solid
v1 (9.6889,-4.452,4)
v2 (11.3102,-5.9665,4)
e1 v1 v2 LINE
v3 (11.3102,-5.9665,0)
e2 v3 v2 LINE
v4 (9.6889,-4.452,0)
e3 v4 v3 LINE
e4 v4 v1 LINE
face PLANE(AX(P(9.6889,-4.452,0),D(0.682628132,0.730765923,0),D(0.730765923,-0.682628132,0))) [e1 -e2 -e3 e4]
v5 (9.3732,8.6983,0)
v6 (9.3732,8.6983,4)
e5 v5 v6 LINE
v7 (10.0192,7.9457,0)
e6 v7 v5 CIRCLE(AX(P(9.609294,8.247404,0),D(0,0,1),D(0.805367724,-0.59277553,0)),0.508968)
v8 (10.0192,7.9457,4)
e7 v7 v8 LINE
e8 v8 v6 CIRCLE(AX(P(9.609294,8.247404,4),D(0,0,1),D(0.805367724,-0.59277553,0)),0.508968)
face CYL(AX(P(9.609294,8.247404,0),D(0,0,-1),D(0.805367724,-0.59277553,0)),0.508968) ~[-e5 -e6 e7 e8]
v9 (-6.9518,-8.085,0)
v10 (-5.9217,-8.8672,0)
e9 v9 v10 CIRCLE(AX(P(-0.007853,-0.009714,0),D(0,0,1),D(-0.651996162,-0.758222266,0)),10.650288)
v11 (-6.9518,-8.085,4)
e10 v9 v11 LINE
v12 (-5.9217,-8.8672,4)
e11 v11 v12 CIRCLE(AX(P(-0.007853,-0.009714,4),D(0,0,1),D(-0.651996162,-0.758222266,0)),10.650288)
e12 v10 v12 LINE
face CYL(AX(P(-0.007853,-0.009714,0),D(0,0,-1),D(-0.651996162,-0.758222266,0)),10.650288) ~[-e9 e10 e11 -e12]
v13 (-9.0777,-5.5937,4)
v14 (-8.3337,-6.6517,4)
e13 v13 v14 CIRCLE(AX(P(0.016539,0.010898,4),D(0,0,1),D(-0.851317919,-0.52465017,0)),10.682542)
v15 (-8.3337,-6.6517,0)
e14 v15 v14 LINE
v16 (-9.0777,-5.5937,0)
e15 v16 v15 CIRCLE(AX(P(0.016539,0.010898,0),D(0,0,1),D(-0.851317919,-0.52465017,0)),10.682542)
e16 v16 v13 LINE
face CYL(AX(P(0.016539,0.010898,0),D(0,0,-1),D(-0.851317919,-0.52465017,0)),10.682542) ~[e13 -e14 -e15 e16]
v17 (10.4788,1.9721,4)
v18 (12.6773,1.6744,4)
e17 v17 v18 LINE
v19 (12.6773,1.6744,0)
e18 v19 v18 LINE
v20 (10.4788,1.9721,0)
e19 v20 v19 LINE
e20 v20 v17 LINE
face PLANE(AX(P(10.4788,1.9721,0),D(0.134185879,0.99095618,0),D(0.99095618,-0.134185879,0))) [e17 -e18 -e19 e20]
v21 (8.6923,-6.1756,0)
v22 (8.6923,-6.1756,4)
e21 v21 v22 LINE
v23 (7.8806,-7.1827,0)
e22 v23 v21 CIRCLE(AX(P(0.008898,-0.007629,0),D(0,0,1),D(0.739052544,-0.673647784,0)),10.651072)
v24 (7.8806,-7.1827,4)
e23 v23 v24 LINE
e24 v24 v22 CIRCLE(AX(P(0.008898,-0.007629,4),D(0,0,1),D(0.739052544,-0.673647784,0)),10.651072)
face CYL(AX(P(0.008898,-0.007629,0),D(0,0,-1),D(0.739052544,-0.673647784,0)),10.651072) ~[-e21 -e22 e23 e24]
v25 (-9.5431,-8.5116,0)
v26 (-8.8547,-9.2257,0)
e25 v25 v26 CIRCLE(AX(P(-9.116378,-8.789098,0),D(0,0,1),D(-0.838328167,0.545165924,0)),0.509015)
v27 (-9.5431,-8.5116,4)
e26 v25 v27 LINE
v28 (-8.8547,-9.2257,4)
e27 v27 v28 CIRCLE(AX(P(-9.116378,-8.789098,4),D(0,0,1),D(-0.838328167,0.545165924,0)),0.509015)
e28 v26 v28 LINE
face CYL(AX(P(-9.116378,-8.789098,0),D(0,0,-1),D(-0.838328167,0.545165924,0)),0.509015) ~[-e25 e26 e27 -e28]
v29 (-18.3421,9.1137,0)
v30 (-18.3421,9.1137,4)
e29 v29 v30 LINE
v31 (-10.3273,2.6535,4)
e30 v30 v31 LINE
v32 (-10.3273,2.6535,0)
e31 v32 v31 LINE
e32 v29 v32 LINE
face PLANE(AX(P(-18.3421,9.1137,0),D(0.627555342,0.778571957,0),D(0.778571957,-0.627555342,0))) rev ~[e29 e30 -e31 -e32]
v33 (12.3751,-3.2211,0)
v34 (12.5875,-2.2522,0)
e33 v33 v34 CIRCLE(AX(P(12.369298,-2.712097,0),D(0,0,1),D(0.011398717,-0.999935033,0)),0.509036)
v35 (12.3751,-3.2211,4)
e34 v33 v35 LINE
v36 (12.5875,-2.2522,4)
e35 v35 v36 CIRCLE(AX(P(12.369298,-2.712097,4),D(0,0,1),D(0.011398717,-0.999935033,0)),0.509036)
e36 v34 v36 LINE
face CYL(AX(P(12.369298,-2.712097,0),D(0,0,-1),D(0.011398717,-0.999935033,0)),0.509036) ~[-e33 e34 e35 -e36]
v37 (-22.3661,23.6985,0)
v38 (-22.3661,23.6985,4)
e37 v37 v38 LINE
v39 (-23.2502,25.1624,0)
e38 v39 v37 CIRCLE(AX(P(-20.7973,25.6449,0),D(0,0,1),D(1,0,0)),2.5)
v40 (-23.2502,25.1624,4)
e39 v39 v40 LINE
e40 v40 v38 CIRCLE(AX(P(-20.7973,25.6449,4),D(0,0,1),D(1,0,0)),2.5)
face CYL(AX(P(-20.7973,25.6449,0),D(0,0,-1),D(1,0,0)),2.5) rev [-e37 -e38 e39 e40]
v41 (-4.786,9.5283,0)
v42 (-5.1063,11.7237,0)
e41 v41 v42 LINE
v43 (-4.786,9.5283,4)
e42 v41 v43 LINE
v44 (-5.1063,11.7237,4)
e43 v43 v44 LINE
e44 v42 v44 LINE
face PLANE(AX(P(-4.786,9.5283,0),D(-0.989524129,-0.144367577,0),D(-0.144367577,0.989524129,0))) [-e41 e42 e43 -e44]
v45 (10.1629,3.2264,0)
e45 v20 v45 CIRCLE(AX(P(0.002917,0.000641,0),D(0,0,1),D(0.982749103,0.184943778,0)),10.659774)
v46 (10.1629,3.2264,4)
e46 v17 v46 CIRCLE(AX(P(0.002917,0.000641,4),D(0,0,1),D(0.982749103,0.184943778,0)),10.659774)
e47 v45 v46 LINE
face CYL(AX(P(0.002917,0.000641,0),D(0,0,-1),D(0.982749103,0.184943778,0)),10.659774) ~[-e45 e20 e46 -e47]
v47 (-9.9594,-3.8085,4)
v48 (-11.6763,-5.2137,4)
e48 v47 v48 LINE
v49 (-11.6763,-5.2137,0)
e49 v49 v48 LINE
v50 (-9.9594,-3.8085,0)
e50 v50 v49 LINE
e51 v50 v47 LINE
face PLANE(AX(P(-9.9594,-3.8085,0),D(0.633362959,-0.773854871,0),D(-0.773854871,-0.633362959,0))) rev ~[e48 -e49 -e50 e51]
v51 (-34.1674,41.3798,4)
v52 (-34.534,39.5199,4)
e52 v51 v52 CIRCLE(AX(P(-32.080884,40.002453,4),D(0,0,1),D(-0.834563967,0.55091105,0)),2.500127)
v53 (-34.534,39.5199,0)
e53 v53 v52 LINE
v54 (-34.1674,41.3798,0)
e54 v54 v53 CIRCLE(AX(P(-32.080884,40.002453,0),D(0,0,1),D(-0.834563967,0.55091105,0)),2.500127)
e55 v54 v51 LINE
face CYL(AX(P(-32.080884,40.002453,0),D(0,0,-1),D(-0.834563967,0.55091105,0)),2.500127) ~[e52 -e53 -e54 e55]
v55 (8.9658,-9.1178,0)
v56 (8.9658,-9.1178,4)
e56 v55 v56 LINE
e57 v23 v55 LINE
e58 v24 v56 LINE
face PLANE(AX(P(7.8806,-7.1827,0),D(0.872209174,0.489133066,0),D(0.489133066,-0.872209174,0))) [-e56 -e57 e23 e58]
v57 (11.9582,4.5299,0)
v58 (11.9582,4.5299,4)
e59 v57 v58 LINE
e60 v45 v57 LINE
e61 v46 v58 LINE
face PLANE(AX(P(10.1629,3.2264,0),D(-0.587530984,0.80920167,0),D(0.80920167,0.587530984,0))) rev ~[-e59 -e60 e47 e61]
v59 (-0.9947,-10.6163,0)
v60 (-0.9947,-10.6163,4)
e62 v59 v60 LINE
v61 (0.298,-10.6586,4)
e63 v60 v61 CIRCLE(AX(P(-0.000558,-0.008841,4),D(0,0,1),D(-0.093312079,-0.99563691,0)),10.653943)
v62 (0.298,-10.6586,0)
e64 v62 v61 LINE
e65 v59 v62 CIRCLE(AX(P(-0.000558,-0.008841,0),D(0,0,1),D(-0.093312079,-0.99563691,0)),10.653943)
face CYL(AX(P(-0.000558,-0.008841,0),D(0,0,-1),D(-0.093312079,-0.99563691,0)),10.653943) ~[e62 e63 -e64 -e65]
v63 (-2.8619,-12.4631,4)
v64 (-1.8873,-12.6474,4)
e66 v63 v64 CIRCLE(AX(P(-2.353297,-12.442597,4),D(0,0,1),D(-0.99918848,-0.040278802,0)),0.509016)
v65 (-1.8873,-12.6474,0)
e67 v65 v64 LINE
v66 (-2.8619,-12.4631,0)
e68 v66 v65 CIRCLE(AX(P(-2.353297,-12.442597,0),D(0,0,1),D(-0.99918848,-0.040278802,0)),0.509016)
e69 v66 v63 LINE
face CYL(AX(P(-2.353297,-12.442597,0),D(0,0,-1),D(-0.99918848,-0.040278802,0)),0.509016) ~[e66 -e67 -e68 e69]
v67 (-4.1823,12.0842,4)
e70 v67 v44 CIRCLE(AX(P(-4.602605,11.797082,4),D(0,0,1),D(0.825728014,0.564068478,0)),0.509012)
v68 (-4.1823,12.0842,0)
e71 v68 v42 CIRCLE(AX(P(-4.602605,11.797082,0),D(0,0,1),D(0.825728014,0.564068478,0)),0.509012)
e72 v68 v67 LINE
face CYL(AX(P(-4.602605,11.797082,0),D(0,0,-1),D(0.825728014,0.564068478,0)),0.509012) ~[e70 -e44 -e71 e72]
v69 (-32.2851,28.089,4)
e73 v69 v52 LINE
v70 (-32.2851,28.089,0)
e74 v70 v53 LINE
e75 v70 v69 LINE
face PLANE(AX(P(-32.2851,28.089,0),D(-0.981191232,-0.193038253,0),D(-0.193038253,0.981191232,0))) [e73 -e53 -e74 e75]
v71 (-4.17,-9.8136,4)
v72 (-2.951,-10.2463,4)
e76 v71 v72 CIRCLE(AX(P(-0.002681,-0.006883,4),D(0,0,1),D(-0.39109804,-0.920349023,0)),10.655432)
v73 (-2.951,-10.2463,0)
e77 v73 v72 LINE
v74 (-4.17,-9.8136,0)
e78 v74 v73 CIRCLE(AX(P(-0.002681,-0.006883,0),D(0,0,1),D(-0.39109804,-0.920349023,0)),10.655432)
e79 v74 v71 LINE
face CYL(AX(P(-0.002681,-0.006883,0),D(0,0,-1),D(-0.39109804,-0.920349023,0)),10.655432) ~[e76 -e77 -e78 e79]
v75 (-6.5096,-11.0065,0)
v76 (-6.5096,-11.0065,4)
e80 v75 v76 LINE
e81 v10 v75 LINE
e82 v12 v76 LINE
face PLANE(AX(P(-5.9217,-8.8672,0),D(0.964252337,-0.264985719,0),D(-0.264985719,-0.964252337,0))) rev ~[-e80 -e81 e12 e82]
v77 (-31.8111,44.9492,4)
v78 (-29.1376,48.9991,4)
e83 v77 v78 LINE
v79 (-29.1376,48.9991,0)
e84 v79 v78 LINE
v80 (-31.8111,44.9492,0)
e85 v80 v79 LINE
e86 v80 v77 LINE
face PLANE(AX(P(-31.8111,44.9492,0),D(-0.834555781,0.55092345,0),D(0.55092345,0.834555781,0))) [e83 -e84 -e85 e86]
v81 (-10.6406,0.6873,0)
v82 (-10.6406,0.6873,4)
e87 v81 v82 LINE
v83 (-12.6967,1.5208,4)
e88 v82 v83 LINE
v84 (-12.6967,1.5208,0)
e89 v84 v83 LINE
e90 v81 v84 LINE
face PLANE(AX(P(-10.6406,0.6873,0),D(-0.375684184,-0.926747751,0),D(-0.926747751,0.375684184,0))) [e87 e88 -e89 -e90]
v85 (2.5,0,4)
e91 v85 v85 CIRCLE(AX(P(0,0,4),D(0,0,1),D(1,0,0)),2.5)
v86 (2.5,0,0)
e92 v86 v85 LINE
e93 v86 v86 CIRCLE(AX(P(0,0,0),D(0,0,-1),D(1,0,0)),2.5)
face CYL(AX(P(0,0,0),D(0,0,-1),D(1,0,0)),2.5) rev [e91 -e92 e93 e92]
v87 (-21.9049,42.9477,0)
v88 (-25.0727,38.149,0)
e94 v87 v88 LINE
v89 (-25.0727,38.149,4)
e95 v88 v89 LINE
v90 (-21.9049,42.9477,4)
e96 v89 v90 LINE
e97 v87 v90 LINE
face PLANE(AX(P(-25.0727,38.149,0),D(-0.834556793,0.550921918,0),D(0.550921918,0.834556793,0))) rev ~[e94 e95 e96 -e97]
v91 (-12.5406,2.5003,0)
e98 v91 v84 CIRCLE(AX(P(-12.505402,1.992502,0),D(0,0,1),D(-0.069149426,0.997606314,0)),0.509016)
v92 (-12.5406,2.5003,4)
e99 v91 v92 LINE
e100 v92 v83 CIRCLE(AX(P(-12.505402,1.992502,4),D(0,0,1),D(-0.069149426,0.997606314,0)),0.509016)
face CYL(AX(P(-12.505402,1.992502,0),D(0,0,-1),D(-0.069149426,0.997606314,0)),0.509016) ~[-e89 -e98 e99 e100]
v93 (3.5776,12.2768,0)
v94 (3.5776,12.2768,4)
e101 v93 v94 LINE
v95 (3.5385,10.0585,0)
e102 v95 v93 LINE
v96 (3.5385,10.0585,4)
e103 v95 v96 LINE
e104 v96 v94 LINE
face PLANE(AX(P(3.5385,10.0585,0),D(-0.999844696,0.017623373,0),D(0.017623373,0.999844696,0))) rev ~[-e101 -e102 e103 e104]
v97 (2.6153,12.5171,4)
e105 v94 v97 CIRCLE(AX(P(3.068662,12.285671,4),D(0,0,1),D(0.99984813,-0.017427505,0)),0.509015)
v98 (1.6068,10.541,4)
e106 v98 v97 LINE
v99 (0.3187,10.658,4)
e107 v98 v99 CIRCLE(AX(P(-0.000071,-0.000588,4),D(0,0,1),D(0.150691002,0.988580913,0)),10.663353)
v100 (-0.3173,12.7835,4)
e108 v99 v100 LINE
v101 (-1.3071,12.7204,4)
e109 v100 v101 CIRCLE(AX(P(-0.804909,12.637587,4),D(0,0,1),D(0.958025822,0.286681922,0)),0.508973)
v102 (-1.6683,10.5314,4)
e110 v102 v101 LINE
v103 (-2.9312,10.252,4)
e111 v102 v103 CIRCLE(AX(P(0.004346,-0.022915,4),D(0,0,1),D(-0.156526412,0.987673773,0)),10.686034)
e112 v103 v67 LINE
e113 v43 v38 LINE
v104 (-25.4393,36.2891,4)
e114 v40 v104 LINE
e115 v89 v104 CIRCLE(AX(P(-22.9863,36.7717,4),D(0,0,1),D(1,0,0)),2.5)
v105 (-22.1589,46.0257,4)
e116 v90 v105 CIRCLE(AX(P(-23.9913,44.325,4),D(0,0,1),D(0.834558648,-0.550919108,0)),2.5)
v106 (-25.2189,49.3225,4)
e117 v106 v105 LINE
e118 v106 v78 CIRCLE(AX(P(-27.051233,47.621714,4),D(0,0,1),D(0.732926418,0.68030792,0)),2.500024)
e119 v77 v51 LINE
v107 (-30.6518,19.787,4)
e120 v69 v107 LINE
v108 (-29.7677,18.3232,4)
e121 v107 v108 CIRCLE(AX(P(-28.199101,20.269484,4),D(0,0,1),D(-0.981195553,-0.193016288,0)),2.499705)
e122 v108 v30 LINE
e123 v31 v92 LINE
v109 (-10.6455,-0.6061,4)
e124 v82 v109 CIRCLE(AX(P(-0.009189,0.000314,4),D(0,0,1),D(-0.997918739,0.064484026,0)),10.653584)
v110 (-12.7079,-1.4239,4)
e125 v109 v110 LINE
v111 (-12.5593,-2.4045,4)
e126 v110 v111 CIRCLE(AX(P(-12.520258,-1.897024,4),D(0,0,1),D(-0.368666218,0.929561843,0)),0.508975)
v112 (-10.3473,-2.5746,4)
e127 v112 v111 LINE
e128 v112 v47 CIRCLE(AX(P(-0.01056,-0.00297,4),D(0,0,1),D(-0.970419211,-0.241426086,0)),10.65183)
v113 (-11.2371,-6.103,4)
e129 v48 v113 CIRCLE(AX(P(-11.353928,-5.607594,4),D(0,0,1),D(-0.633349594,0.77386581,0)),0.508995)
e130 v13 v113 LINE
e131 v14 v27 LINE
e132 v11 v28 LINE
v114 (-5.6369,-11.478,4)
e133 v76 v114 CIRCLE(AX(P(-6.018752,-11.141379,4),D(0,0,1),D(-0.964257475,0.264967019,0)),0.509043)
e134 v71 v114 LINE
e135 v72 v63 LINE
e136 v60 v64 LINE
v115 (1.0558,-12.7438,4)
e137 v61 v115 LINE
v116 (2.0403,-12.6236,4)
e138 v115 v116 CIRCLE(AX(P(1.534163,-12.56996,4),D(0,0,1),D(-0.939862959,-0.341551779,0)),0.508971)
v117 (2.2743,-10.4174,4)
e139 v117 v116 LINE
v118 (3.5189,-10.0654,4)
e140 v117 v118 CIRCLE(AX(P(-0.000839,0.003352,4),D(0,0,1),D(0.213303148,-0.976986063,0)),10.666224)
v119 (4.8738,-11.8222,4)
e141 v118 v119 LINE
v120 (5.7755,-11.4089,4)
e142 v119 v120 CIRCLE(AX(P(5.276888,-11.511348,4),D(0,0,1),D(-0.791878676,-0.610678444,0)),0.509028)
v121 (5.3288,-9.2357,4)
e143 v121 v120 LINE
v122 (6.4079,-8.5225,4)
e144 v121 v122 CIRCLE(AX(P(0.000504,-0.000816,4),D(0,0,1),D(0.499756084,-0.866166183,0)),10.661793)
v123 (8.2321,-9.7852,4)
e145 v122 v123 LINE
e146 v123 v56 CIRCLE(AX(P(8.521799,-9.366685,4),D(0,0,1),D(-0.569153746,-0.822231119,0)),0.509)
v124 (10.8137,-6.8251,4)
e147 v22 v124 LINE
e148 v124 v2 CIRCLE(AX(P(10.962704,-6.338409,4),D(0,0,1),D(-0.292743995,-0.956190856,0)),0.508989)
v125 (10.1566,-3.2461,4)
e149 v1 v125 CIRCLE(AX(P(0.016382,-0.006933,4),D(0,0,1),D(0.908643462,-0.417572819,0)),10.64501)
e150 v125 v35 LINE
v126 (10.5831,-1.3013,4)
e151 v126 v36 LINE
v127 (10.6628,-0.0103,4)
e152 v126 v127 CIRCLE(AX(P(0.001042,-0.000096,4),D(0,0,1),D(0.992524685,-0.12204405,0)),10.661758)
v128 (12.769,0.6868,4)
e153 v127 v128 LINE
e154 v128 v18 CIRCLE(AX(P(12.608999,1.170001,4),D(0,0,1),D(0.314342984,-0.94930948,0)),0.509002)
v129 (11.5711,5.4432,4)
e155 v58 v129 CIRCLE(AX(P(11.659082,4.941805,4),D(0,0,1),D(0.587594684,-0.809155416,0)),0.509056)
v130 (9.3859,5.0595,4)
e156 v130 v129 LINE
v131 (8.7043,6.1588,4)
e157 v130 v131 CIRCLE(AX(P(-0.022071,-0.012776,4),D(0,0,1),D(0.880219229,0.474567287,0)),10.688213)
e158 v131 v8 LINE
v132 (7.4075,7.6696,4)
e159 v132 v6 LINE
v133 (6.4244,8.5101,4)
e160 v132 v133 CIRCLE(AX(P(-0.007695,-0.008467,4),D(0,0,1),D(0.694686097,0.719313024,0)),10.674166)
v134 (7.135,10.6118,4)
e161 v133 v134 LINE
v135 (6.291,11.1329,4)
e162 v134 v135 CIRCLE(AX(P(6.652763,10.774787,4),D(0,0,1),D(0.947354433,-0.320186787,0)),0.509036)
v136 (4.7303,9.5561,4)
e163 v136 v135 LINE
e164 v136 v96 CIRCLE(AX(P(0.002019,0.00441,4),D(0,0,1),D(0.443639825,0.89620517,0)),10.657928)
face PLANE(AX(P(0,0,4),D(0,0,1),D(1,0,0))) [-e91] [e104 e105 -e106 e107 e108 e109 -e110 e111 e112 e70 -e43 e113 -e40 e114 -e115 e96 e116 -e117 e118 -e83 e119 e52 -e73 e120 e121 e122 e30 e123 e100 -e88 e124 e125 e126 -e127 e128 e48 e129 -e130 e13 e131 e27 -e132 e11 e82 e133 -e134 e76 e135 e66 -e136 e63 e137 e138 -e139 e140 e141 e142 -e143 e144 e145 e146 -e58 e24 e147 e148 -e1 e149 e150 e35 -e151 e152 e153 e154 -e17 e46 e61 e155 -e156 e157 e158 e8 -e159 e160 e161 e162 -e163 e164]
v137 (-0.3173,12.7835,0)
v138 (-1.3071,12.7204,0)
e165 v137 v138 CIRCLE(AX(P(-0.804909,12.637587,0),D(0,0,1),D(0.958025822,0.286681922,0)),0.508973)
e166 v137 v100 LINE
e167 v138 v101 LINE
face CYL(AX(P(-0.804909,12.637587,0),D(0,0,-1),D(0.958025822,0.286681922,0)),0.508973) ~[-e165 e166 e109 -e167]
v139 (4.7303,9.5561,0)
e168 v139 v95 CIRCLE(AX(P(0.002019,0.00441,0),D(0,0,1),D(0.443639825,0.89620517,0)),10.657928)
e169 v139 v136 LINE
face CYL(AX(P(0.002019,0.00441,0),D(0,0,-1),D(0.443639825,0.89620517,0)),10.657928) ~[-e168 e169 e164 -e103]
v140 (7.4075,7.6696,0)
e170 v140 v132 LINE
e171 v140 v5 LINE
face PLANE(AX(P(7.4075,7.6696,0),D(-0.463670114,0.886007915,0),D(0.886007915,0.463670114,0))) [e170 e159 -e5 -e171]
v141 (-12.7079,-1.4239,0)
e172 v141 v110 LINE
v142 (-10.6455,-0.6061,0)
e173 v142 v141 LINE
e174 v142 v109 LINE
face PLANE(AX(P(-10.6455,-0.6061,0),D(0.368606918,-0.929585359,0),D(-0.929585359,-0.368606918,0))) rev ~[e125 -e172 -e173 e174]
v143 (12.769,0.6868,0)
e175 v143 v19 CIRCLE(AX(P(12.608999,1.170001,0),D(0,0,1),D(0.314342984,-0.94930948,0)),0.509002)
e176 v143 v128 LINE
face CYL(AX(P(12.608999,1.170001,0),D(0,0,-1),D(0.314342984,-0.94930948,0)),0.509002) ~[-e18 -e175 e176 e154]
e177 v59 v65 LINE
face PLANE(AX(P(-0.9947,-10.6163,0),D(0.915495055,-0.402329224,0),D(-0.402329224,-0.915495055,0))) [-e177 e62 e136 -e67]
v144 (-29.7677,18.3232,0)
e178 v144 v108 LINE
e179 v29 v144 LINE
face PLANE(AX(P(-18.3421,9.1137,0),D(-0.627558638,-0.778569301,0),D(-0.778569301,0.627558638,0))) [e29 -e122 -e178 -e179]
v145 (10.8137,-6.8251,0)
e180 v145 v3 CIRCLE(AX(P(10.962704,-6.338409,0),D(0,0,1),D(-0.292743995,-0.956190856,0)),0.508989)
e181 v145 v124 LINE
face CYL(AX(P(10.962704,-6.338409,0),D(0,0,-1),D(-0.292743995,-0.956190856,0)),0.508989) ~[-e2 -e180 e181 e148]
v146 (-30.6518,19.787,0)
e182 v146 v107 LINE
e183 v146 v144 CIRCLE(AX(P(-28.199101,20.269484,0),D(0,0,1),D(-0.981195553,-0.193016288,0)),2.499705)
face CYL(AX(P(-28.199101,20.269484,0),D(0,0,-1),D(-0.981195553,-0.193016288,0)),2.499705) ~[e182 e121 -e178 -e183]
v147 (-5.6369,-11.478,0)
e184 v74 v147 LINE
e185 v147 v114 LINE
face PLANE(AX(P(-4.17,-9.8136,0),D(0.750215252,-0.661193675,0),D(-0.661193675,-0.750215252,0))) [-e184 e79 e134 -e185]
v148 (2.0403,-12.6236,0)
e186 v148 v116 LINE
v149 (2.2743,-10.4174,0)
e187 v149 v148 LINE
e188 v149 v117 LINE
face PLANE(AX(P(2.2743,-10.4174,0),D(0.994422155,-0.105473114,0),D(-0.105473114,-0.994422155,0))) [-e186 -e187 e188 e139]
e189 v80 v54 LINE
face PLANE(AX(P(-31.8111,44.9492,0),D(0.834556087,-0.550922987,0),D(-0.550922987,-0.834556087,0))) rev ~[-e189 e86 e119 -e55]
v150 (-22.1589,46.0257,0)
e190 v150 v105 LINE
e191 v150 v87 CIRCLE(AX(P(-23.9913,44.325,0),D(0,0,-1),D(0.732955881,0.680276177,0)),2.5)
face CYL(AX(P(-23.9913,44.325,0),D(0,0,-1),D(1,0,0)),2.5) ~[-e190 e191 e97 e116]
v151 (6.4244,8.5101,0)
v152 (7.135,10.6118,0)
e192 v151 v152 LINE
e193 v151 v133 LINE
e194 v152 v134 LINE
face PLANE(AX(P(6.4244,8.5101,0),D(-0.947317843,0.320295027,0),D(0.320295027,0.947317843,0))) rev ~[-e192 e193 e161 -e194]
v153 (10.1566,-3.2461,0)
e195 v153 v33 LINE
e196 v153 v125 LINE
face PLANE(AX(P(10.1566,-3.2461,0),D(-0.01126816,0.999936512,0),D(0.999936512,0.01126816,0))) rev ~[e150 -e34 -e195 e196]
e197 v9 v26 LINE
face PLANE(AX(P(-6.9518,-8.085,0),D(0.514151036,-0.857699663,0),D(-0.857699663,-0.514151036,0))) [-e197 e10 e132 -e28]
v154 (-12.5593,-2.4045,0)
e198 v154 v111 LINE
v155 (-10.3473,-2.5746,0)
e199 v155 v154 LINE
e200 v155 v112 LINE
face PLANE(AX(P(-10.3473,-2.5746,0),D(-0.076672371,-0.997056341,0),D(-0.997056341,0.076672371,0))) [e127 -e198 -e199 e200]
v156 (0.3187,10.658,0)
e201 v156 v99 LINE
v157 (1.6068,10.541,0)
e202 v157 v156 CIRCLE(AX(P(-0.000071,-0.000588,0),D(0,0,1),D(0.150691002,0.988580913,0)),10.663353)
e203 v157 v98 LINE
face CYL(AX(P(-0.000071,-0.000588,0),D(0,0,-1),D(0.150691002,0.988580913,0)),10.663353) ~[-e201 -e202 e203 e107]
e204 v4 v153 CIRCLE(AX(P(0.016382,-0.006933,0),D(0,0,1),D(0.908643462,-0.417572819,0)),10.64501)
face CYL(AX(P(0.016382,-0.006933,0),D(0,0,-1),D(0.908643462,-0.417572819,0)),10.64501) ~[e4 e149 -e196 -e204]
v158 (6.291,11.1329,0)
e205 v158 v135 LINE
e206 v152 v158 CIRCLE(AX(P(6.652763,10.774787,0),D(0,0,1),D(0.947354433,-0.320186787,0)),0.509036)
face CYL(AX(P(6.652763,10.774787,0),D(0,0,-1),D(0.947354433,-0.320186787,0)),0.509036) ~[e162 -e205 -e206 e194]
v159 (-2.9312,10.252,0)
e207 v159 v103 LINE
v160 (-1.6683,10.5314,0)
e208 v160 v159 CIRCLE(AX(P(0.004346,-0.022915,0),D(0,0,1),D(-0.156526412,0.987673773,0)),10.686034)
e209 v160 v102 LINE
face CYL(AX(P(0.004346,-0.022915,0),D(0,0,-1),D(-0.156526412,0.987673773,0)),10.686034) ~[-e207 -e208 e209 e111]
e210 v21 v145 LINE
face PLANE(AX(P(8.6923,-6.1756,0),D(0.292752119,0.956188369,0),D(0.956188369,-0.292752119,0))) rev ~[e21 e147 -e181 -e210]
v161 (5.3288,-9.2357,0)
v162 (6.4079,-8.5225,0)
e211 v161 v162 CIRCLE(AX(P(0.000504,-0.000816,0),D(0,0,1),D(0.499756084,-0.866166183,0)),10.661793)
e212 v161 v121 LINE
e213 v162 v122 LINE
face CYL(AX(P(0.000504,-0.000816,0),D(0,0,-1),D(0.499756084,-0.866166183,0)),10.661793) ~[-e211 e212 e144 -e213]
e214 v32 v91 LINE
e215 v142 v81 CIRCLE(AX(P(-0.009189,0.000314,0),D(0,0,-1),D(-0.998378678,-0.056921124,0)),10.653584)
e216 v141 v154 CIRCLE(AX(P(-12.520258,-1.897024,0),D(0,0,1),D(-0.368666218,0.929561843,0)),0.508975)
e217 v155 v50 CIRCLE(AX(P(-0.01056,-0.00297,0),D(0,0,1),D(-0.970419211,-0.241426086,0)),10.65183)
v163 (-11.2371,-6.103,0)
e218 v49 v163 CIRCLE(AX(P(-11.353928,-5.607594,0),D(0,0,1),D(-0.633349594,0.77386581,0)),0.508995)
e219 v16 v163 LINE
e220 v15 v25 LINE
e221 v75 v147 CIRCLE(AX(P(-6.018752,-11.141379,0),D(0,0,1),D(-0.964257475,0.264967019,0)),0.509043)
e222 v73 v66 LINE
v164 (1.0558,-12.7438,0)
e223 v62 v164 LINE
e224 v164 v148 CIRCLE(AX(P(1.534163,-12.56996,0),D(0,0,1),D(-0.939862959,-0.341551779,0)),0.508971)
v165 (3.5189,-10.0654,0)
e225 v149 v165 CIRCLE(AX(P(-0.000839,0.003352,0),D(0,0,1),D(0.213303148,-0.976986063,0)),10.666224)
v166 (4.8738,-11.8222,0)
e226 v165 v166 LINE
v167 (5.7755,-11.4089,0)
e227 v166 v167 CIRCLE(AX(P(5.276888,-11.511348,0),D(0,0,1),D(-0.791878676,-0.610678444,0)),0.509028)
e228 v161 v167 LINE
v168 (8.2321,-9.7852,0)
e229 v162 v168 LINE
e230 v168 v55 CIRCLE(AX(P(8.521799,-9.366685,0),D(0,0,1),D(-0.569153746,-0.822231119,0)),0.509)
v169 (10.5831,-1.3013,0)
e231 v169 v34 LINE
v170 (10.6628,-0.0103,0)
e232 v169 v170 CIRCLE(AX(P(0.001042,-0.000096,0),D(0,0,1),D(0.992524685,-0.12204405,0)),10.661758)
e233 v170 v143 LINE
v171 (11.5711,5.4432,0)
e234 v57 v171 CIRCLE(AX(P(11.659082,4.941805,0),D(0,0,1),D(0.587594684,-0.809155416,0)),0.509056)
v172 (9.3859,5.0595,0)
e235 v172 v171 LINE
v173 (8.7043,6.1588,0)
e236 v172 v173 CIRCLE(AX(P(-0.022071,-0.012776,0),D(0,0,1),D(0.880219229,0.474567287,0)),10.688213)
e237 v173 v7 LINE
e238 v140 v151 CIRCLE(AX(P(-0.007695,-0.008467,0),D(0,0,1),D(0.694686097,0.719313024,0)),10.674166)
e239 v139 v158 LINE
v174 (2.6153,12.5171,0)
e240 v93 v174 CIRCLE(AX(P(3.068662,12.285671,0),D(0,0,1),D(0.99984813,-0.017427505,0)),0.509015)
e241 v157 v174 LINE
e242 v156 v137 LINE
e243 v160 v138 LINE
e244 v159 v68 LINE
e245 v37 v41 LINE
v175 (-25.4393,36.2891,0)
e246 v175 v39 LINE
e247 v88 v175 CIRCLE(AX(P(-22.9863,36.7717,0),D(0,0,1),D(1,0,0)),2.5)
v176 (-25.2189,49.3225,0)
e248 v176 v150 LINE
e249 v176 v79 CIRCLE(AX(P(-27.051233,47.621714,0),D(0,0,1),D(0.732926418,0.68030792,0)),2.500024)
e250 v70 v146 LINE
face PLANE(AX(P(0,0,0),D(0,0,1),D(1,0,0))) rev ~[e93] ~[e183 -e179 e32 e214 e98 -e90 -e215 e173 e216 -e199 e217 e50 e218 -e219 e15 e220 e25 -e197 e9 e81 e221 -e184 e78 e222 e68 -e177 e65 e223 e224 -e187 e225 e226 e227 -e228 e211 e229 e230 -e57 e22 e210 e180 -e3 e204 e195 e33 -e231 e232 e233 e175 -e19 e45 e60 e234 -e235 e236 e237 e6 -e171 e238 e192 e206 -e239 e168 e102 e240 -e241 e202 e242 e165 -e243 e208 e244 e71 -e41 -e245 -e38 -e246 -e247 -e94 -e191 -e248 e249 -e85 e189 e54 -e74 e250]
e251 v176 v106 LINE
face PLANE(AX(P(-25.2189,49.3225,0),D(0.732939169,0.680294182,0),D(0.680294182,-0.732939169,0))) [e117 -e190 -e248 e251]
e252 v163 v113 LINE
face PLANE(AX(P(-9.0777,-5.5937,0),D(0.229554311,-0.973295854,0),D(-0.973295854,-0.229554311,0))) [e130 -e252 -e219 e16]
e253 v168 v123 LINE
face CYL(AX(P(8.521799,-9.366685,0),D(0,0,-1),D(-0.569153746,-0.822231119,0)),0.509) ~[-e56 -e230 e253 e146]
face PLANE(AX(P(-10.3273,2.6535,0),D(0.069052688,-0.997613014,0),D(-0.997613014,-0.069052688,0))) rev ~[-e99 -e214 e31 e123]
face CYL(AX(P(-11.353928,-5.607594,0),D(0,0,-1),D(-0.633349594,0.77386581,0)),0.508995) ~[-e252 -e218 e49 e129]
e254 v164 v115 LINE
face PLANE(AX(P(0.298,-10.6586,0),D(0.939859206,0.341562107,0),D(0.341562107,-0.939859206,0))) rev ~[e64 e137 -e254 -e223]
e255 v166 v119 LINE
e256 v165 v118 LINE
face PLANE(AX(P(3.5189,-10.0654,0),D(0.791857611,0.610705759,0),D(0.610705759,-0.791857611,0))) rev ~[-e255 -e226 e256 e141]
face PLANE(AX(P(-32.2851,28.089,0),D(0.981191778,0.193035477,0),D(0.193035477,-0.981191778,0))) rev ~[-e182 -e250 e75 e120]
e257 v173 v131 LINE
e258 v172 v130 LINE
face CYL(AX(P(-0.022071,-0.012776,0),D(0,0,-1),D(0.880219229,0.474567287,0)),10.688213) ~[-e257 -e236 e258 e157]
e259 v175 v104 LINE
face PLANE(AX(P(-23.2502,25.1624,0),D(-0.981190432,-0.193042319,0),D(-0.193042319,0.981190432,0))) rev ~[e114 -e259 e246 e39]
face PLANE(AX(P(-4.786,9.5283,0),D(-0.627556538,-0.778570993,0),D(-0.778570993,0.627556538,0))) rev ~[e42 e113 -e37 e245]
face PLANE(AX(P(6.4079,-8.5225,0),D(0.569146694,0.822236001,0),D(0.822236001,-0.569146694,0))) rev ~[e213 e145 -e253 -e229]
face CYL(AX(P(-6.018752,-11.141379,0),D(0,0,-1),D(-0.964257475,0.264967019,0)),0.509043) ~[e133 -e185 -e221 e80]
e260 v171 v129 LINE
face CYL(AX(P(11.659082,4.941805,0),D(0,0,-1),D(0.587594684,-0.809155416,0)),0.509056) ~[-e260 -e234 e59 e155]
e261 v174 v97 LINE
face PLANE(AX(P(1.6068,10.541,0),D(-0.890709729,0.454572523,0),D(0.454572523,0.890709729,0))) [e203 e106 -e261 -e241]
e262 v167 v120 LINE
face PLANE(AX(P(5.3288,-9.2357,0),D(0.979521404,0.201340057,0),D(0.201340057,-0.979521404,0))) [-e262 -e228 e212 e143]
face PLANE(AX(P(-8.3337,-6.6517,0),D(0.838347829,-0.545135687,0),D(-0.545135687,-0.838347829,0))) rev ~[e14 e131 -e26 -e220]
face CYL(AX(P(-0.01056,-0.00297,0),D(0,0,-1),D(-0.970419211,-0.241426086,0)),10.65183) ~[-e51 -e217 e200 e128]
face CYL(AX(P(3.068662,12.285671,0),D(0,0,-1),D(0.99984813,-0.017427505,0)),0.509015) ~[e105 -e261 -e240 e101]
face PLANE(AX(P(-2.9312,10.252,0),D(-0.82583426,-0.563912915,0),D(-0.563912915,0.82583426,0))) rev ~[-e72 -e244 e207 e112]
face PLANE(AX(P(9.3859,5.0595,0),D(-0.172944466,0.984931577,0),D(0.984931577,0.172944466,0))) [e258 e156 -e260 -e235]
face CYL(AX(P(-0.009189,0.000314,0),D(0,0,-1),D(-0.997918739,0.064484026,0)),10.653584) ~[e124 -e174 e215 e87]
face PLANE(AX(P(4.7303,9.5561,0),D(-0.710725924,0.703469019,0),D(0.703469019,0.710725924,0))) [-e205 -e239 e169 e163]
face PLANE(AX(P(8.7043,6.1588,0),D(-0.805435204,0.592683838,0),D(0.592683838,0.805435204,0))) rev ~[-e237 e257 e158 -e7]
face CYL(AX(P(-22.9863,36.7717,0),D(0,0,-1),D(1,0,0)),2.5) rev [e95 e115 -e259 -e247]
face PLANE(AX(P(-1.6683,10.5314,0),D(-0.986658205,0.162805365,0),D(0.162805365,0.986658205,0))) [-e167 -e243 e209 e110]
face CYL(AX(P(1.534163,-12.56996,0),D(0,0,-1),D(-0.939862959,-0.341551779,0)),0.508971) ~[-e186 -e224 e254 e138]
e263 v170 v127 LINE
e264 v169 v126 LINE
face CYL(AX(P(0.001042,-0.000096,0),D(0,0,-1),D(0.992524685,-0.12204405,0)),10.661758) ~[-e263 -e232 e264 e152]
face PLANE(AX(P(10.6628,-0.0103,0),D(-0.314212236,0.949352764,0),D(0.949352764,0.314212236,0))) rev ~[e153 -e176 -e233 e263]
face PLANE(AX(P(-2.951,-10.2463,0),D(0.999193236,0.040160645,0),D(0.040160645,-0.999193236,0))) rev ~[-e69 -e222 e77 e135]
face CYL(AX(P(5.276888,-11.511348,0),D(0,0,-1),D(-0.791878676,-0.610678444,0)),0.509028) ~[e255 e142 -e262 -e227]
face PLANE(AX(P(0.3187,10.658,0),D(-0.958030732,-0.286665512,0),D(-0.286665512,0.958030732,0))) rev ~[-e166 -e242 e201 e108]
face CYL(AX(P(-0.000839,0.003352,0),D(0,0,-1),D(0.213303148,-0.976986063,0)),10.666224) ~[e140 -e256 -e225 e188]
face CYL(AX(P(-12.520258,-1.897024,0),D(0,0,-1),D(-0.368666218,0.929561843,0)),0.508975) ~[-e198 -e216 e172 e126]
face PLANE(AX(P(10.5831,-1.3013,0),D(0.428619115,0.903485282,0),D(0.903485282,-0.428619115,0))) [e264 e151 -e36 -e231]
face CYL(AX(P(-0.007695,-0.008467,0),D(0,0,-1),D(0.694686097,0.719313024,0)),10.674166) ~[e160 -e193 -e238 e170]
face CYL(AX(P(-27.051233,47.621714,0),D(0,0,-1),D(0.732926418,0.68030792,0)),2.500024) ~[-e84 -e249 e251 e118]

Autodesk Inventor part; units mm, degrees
ref_plane "YZ Plane" through (0, 0, 0) normal (1, 0, 0) x (0, 1, 0)
ref_plane "XZ Plane" through (0, 0, 0) normal (0, 1, 0) x (-1, 0, 0)
ref_plane "XY Plane" through (0, 0, 0) normal (0, 0, 1) x (1, 0, 0)
sketch "Sketch1" plane through (0, 0, 0) normal (0, 0, 1) x (1, 0, 0)
  circle A0 centre (0, 0) radius 2.5
  line L0 (0, 0) -> (-15.5714, 12.5511)
  line L1 (0, 0) -> (20, 0) construction
  line L2 (-15.5714, 12.5511) -> (-18.3421, 9.1137)
  line L3 (0, 0) -> (-10.3273, 2.6535)
  line L4 (0, 0) -> (22.7557, 0) construction
  line L5 (0, 0) -> (-10.6628, 0)
  line L6 (-4.786, 9.5283) -> (-22.3661, 23.6985)
  line L7 (-22.3661, 23.6985) -> (-20.7973, 25.6449)
  circle A1 centre (-20.7973, 25.6449) radius 2.5
  line L8 (-18.3421, 9.1137) -> (-10.3273, 2.6535)
  line L9 (-23.2502, 25.1624) -> (-25.4393, 36.2891)
  line L10 (-23.2502, 25.1624) -> (-11.9102, 25.1624) construction
  line L11 (-25.4393, 36.2891) -> (-22.9863, 36.7717)
  circle A2 centre (-22.9863, 36.7717) radius 2.5
  line L12 (-25.0727, 38.149) -> (-21.9049, 42.9477)
  line L13 (-25.0727, 38.149) -> (-19.3227, 38.149) construction
  line L14 (-21.9049, 42.9477) -> (-23.9913, 44.325)
  circle A3 centre (-23.9913, 44.325) radius 2.5
  line L15 (0, 0) -> (60, 0) construction
  line L16 (-25.2189, 49.3225) -> (-22.1589, 46.0257)
  line L17 (-23.9913, 39.7871) -> (-31.8111, 44.9492)
  line L18 (-31.8111, 44.9492) -> (-29.1376, 48.9991)
  line L19 (-31.8111, 44.9492) -> (-34.1674, 41.3798)
  line L20 (-24.1412, 29.6912) -> (-32.2851, 28.089)
  line L21 (-32.2851, 28.089) -> (-34.534, 39.5199)
  line L22 (-32.2851, 28.089) -> (-30.6518, 19.787)
  line L23 (-18.3421, 9.1137) -> (-29.7677, 18.3232)
  line L24 (-18.3421, 20.455) -> (-23.8834, 13.5802)
  arc A4 (-12.5406, 2.5003) -> (-12.6967, 1.5208) centre (-12.5054, 1.9925) ccw
  line L25 (-10.3273, 2.6535) -> (-12.5406, 2.5003)
  line L26 (-10.6406, 0.6873) -> (-12.6967, 1.5208)
  line L27 (-10.6455, -0.6061) -> (-12.7079, -1.4239)
  line L28 (-10.3473, -2.5746) -> (-12.5593, -2.4045)
  arc A5 (-12.7079, -1.4239) -> (-12.5593, -2.4045) centre (-12.5203, -1.897) ccw
  line L29 (-9.9594, -3.8085) -> (-11.6763, -5.2137)
  line L30 (-9.0777, -5.5937) -> (-11.2371, -6.103)
  arc A6 (-11.6763, -5.2137) -> (-11.2371, -6.103) centre (-11.3539, -5.6076) ccw
  line L31 (-8.3337, -6.6517) -> (-9.5431, -8.5116)
  line L32 (-6.9518, -8.085) -> (-8.8547, -9.2257)
  arc A7 (-9.5431, -8.5116) -> (-8.8547, -9.2257) centre (-9.1164, -8.7891) ccw
  line L33 (-5.9217, -8.8672) -> (-6.5096, -11.0065)
  line L34 (-4.17, -9.8136) -> (-5.6369, -11.478)
  arc A8 (-6.5096, -11.0065) -> (-5.6369, -11.478) centre (-6.0188, -11.1414) ccw
  line L35 (-2.951, -10.2463) -> (-2.8619, -12.4631)
  line L36 (-0.9947, -10.6163) -> (-1.8873, -12.6474)
  arc A9 (-2.8619, -12.4631) -> (-1.8873, -12.6474) centre (-2.3533, -12.4426) ccw
  line L37 (0.298, -10.6586) -> (1.0558, -12.7438)
  line L38 (2.2743, -10.4174) -> (2.0403, -12.6236)
  arc A10 (1.0558, -12.7438) -> (2.0403, -12.6236) centre (1.5342, -12.5699) ccw
  line L39 (3.5189, -10.0654) -> (4.8738, -11.8222)
  line L40 (5.3288, -9.2357) -> (5.7755, -11.4089)
  arc A11 (4.8738, -11.8222) -> (5.7755, -11.4089) centre (5.2769, -11.5113) ccw
  line L41 (6.4079, -8.5225) -> (8.2321, -9.7852)
  line L42 (7.8806, -7.1827) -> (8.9658, -9.1178)
  arc A12 (8.2321, -9.7852) -> (8.9658, -9.1178) centre (8.5218, -9.3667) ccw
  line L43 (8.6923, -6.1756) -> (10.8137, -6.8251)
  line L44 (9.6889, -4.452) -> (11.3102, -5.9665)
  arc A13 (10.8137, -6.8251) -> (11.3102, -5.9665) centre (10.9627, -6.3384) ccw
  line L45 (10.1566, -3.2461) -> (12.3751, -3.2211)
  line L46 (10.5831, -1.3013) -> (12.5875, -2.2522)
  arc A14 (12.3751, -3.2211) -> (12.5875, -2.2522) centre (12.3693, -2.7121) ccw
  line L47 (10.6628, -0.0103) -> (12.769, 0.6868)
  line L48 (10.4788, 1.9721) -> (12.6773, 1.6744)
  arc A15 (12.769, 0.6868) -> (12.6773, 1.6744) centre (12.609, 1.17) ccw
  line L49 (10.1629, 3.2264) -> (11.9582, 4.5299)
  line L50 (9.3859, 5.0595) -> (11.5711, 5.4432)
  arc A16 (11.9582, 4.5299) -> (11.5711, 5.4432) centre (11.6591, 4.9418) ccw
  line L51 (8.7043, 6.1588) -> (10.0192, 7.9457)
  line L52 (7.4075, 7.6696) -> (9.3732, 8.6983)
  arc A17 (10.0192, 7.9457) -> (9.3732, 8.6983) centre (9.6092, 8.2474) ccw
  line L53 (6.4244, 8.5101) -> (7.135, 10.6118)
  line L54 (4.7303, 9.5561) -> (6.291, 11.1329)
  arc A18 (7.135, 10.6118) -> (6.291, 11.1329) centre (6.6528, 10.7748) ccw
  line L55 (3.5385, 10.0585) -> (3.5776, 12.2768)
  line L56 (1.6068, 10.541) -> (2.6153, 12.5171)
  arc A19 (3.5776, 12.2768) -> (2.6153, 12.5171) centre (3.0687, 12.2857) ccw
  line L57 (0.3187, 10.658) -> (-0.3173, 12.7835)
  line L58 (-1.6683, 10.5314) -> (-1.3071, 12.7204)
  arc A20 (-0.3173, 12.7835) -> (-1.3071, 12.7204) centre (-0.8049, 12.6376) ccw
  line L59 (-2.9312, 10.252) -> (-4.1823, 12.0842)
  line L60 (-4.786, 9.5283) -> (-5.1063, 11.7237)
  arc A21 (-4.1823, 12.0842) -> (-5.1063, 11.7237) centre (-4.6026, 11.7971) ccw
  arc A22 (-1.6683, 10.5314) -> (-2.9312, 10.252) centre (0, 0) ccw
  arc A23 (1.6068, 10.541) -> (0.3187, 10.658) centre (0, 0) ccw
  arc A24 (4.7303, 9.5561) -> (3.5385, 10.0585) centre (0, 0) ccw
  arc A25 (7.4075, 7.6696) -> (6.4244, 8.5101) centre (0, 0) ccw
  arc A26 (9.3859, 5.0595) -> (8.7043, 6.1588) centre (0, 0) ccw
  arc A27 (10.4788, 1.9721) -> (10.1629, 3.2264) centre (0, 0) ccw
  arc A28 (10.5831, -1.3013) -> (10.6628, 0) centre (0, 0) ccw
  arc A29 (9.6889, -4.452) -> (10.1566, -3.2461) centre (0, 0) ccw
  arc A30 (7.8806, -7.1827) -> (8.6923, -6.1756) centre (0, 0) ccw
  arc A31 (5.3288, -9.2357) -> (6.4079, -8.5225) centre (0, 0) ccw
  arc A32 (2.2743, -10.4174) -> (3.5189, -10.0654) centre (0, 0) ccw
  arc A33 (-0.9947, -10.6163) -> (0.298, -10.6586) centre (0, 0) ccw
  arc A34 (-4.17, -9.8136) -> (-2.951, -10.2463) centre (0, 0) ccw
  arc A35 (-6.9518, -8.085) -> (-5.9217, -8.8672) centre (0, 0) ccw
  arc A36 (-9.0777, -5.5937) -> (-8.3337, -6.6517) centre (0, 0) ccw
  arc A37 (-10.3473, -2.5746) -> (-9.9594, -3.8085) centre (0, 0) ccw
  arc A38 (-10.2331, 2.9964) -> (-10.3273, 2.6535) centre (0, 0) ccw
  arc A39 (-10.6406, 0.6873) -> (-10.6455, -0.6061) centre (0, 0) ccw
  line L61 (-4.9971, 9.2664) -> (-4.786, 9.5283)
  arc A40 (-25.2189, 49.3225) -> (-29.1376, 48.9991) centre (-27.0512, 47.6218) ccw
  arc A41 (-34.1674, 41.3798) -> (-34.534, 39.5199) centre (-32.081, 40.0025) ccw
  arc A42 (-30.6518, 19.787) -> (-29.7677, 18.3232) centre (-28.1988, 20.2696) ccw
  point P0 (-4.786, 9.5283)
  dimension "d0" = 5
  dimension "d1" = 20
  dimension "d2" = 141.13
  dimension "d3" = 4.415
  dimension "d4" = 165.59
  dimension "d5" = 22.58
  dimension "d6" = 2.5
  dimension "d10" = 11.34
  dimension "d12" = 101.13
  dimension "d13" = 2.5
  dimension "d15" = 5.75
  dimension "d17" = 56.57
  dimension "d18" = 2.5
  dimension "d22" = 9.37
  dimension "d23" = 8.3
  dimension "d24" = 8.83
  dimension "d25" = 1.991
  dimension "d27" = 1.018
  dimension "d30" = 300.366
  dimension "d32" = 2.5
extrude "Extrusion1" add sketch "Sketch1" along normal blind 4 contours A0 L0 L2 L23 L24 L6 L60 A21 L59 A22 L58 A20 L57 A23 L56 A19 L55 A24 L54 A18 L53 A25 L52 A17 L51 A26 L50 A16 L49 A27 L48 A15 L47 A28 L46 A14 L45 A29 L44 A13 L43 A30 L42 A12 L41 A31 L40 A11 L39 A32 L38 A10 L37 A33 L36 A9 L35 A34 L34 A8 L33 A35 L32 A7 L31 A36 L30 A6 L29 A37 L28 A5 L27 A39 L5 | A0 L3 L8 L2 L0 | L5 A39 L26 A4 L25 L3 A0 | L23 A42 L22 L20 L9 A1 L6 L24 | L21 A41 L19 L17 L12 A2 L9 L20 | L18 A40 L16 A3 L12 L17 | A3
properties part number "Servo pinza 1"
